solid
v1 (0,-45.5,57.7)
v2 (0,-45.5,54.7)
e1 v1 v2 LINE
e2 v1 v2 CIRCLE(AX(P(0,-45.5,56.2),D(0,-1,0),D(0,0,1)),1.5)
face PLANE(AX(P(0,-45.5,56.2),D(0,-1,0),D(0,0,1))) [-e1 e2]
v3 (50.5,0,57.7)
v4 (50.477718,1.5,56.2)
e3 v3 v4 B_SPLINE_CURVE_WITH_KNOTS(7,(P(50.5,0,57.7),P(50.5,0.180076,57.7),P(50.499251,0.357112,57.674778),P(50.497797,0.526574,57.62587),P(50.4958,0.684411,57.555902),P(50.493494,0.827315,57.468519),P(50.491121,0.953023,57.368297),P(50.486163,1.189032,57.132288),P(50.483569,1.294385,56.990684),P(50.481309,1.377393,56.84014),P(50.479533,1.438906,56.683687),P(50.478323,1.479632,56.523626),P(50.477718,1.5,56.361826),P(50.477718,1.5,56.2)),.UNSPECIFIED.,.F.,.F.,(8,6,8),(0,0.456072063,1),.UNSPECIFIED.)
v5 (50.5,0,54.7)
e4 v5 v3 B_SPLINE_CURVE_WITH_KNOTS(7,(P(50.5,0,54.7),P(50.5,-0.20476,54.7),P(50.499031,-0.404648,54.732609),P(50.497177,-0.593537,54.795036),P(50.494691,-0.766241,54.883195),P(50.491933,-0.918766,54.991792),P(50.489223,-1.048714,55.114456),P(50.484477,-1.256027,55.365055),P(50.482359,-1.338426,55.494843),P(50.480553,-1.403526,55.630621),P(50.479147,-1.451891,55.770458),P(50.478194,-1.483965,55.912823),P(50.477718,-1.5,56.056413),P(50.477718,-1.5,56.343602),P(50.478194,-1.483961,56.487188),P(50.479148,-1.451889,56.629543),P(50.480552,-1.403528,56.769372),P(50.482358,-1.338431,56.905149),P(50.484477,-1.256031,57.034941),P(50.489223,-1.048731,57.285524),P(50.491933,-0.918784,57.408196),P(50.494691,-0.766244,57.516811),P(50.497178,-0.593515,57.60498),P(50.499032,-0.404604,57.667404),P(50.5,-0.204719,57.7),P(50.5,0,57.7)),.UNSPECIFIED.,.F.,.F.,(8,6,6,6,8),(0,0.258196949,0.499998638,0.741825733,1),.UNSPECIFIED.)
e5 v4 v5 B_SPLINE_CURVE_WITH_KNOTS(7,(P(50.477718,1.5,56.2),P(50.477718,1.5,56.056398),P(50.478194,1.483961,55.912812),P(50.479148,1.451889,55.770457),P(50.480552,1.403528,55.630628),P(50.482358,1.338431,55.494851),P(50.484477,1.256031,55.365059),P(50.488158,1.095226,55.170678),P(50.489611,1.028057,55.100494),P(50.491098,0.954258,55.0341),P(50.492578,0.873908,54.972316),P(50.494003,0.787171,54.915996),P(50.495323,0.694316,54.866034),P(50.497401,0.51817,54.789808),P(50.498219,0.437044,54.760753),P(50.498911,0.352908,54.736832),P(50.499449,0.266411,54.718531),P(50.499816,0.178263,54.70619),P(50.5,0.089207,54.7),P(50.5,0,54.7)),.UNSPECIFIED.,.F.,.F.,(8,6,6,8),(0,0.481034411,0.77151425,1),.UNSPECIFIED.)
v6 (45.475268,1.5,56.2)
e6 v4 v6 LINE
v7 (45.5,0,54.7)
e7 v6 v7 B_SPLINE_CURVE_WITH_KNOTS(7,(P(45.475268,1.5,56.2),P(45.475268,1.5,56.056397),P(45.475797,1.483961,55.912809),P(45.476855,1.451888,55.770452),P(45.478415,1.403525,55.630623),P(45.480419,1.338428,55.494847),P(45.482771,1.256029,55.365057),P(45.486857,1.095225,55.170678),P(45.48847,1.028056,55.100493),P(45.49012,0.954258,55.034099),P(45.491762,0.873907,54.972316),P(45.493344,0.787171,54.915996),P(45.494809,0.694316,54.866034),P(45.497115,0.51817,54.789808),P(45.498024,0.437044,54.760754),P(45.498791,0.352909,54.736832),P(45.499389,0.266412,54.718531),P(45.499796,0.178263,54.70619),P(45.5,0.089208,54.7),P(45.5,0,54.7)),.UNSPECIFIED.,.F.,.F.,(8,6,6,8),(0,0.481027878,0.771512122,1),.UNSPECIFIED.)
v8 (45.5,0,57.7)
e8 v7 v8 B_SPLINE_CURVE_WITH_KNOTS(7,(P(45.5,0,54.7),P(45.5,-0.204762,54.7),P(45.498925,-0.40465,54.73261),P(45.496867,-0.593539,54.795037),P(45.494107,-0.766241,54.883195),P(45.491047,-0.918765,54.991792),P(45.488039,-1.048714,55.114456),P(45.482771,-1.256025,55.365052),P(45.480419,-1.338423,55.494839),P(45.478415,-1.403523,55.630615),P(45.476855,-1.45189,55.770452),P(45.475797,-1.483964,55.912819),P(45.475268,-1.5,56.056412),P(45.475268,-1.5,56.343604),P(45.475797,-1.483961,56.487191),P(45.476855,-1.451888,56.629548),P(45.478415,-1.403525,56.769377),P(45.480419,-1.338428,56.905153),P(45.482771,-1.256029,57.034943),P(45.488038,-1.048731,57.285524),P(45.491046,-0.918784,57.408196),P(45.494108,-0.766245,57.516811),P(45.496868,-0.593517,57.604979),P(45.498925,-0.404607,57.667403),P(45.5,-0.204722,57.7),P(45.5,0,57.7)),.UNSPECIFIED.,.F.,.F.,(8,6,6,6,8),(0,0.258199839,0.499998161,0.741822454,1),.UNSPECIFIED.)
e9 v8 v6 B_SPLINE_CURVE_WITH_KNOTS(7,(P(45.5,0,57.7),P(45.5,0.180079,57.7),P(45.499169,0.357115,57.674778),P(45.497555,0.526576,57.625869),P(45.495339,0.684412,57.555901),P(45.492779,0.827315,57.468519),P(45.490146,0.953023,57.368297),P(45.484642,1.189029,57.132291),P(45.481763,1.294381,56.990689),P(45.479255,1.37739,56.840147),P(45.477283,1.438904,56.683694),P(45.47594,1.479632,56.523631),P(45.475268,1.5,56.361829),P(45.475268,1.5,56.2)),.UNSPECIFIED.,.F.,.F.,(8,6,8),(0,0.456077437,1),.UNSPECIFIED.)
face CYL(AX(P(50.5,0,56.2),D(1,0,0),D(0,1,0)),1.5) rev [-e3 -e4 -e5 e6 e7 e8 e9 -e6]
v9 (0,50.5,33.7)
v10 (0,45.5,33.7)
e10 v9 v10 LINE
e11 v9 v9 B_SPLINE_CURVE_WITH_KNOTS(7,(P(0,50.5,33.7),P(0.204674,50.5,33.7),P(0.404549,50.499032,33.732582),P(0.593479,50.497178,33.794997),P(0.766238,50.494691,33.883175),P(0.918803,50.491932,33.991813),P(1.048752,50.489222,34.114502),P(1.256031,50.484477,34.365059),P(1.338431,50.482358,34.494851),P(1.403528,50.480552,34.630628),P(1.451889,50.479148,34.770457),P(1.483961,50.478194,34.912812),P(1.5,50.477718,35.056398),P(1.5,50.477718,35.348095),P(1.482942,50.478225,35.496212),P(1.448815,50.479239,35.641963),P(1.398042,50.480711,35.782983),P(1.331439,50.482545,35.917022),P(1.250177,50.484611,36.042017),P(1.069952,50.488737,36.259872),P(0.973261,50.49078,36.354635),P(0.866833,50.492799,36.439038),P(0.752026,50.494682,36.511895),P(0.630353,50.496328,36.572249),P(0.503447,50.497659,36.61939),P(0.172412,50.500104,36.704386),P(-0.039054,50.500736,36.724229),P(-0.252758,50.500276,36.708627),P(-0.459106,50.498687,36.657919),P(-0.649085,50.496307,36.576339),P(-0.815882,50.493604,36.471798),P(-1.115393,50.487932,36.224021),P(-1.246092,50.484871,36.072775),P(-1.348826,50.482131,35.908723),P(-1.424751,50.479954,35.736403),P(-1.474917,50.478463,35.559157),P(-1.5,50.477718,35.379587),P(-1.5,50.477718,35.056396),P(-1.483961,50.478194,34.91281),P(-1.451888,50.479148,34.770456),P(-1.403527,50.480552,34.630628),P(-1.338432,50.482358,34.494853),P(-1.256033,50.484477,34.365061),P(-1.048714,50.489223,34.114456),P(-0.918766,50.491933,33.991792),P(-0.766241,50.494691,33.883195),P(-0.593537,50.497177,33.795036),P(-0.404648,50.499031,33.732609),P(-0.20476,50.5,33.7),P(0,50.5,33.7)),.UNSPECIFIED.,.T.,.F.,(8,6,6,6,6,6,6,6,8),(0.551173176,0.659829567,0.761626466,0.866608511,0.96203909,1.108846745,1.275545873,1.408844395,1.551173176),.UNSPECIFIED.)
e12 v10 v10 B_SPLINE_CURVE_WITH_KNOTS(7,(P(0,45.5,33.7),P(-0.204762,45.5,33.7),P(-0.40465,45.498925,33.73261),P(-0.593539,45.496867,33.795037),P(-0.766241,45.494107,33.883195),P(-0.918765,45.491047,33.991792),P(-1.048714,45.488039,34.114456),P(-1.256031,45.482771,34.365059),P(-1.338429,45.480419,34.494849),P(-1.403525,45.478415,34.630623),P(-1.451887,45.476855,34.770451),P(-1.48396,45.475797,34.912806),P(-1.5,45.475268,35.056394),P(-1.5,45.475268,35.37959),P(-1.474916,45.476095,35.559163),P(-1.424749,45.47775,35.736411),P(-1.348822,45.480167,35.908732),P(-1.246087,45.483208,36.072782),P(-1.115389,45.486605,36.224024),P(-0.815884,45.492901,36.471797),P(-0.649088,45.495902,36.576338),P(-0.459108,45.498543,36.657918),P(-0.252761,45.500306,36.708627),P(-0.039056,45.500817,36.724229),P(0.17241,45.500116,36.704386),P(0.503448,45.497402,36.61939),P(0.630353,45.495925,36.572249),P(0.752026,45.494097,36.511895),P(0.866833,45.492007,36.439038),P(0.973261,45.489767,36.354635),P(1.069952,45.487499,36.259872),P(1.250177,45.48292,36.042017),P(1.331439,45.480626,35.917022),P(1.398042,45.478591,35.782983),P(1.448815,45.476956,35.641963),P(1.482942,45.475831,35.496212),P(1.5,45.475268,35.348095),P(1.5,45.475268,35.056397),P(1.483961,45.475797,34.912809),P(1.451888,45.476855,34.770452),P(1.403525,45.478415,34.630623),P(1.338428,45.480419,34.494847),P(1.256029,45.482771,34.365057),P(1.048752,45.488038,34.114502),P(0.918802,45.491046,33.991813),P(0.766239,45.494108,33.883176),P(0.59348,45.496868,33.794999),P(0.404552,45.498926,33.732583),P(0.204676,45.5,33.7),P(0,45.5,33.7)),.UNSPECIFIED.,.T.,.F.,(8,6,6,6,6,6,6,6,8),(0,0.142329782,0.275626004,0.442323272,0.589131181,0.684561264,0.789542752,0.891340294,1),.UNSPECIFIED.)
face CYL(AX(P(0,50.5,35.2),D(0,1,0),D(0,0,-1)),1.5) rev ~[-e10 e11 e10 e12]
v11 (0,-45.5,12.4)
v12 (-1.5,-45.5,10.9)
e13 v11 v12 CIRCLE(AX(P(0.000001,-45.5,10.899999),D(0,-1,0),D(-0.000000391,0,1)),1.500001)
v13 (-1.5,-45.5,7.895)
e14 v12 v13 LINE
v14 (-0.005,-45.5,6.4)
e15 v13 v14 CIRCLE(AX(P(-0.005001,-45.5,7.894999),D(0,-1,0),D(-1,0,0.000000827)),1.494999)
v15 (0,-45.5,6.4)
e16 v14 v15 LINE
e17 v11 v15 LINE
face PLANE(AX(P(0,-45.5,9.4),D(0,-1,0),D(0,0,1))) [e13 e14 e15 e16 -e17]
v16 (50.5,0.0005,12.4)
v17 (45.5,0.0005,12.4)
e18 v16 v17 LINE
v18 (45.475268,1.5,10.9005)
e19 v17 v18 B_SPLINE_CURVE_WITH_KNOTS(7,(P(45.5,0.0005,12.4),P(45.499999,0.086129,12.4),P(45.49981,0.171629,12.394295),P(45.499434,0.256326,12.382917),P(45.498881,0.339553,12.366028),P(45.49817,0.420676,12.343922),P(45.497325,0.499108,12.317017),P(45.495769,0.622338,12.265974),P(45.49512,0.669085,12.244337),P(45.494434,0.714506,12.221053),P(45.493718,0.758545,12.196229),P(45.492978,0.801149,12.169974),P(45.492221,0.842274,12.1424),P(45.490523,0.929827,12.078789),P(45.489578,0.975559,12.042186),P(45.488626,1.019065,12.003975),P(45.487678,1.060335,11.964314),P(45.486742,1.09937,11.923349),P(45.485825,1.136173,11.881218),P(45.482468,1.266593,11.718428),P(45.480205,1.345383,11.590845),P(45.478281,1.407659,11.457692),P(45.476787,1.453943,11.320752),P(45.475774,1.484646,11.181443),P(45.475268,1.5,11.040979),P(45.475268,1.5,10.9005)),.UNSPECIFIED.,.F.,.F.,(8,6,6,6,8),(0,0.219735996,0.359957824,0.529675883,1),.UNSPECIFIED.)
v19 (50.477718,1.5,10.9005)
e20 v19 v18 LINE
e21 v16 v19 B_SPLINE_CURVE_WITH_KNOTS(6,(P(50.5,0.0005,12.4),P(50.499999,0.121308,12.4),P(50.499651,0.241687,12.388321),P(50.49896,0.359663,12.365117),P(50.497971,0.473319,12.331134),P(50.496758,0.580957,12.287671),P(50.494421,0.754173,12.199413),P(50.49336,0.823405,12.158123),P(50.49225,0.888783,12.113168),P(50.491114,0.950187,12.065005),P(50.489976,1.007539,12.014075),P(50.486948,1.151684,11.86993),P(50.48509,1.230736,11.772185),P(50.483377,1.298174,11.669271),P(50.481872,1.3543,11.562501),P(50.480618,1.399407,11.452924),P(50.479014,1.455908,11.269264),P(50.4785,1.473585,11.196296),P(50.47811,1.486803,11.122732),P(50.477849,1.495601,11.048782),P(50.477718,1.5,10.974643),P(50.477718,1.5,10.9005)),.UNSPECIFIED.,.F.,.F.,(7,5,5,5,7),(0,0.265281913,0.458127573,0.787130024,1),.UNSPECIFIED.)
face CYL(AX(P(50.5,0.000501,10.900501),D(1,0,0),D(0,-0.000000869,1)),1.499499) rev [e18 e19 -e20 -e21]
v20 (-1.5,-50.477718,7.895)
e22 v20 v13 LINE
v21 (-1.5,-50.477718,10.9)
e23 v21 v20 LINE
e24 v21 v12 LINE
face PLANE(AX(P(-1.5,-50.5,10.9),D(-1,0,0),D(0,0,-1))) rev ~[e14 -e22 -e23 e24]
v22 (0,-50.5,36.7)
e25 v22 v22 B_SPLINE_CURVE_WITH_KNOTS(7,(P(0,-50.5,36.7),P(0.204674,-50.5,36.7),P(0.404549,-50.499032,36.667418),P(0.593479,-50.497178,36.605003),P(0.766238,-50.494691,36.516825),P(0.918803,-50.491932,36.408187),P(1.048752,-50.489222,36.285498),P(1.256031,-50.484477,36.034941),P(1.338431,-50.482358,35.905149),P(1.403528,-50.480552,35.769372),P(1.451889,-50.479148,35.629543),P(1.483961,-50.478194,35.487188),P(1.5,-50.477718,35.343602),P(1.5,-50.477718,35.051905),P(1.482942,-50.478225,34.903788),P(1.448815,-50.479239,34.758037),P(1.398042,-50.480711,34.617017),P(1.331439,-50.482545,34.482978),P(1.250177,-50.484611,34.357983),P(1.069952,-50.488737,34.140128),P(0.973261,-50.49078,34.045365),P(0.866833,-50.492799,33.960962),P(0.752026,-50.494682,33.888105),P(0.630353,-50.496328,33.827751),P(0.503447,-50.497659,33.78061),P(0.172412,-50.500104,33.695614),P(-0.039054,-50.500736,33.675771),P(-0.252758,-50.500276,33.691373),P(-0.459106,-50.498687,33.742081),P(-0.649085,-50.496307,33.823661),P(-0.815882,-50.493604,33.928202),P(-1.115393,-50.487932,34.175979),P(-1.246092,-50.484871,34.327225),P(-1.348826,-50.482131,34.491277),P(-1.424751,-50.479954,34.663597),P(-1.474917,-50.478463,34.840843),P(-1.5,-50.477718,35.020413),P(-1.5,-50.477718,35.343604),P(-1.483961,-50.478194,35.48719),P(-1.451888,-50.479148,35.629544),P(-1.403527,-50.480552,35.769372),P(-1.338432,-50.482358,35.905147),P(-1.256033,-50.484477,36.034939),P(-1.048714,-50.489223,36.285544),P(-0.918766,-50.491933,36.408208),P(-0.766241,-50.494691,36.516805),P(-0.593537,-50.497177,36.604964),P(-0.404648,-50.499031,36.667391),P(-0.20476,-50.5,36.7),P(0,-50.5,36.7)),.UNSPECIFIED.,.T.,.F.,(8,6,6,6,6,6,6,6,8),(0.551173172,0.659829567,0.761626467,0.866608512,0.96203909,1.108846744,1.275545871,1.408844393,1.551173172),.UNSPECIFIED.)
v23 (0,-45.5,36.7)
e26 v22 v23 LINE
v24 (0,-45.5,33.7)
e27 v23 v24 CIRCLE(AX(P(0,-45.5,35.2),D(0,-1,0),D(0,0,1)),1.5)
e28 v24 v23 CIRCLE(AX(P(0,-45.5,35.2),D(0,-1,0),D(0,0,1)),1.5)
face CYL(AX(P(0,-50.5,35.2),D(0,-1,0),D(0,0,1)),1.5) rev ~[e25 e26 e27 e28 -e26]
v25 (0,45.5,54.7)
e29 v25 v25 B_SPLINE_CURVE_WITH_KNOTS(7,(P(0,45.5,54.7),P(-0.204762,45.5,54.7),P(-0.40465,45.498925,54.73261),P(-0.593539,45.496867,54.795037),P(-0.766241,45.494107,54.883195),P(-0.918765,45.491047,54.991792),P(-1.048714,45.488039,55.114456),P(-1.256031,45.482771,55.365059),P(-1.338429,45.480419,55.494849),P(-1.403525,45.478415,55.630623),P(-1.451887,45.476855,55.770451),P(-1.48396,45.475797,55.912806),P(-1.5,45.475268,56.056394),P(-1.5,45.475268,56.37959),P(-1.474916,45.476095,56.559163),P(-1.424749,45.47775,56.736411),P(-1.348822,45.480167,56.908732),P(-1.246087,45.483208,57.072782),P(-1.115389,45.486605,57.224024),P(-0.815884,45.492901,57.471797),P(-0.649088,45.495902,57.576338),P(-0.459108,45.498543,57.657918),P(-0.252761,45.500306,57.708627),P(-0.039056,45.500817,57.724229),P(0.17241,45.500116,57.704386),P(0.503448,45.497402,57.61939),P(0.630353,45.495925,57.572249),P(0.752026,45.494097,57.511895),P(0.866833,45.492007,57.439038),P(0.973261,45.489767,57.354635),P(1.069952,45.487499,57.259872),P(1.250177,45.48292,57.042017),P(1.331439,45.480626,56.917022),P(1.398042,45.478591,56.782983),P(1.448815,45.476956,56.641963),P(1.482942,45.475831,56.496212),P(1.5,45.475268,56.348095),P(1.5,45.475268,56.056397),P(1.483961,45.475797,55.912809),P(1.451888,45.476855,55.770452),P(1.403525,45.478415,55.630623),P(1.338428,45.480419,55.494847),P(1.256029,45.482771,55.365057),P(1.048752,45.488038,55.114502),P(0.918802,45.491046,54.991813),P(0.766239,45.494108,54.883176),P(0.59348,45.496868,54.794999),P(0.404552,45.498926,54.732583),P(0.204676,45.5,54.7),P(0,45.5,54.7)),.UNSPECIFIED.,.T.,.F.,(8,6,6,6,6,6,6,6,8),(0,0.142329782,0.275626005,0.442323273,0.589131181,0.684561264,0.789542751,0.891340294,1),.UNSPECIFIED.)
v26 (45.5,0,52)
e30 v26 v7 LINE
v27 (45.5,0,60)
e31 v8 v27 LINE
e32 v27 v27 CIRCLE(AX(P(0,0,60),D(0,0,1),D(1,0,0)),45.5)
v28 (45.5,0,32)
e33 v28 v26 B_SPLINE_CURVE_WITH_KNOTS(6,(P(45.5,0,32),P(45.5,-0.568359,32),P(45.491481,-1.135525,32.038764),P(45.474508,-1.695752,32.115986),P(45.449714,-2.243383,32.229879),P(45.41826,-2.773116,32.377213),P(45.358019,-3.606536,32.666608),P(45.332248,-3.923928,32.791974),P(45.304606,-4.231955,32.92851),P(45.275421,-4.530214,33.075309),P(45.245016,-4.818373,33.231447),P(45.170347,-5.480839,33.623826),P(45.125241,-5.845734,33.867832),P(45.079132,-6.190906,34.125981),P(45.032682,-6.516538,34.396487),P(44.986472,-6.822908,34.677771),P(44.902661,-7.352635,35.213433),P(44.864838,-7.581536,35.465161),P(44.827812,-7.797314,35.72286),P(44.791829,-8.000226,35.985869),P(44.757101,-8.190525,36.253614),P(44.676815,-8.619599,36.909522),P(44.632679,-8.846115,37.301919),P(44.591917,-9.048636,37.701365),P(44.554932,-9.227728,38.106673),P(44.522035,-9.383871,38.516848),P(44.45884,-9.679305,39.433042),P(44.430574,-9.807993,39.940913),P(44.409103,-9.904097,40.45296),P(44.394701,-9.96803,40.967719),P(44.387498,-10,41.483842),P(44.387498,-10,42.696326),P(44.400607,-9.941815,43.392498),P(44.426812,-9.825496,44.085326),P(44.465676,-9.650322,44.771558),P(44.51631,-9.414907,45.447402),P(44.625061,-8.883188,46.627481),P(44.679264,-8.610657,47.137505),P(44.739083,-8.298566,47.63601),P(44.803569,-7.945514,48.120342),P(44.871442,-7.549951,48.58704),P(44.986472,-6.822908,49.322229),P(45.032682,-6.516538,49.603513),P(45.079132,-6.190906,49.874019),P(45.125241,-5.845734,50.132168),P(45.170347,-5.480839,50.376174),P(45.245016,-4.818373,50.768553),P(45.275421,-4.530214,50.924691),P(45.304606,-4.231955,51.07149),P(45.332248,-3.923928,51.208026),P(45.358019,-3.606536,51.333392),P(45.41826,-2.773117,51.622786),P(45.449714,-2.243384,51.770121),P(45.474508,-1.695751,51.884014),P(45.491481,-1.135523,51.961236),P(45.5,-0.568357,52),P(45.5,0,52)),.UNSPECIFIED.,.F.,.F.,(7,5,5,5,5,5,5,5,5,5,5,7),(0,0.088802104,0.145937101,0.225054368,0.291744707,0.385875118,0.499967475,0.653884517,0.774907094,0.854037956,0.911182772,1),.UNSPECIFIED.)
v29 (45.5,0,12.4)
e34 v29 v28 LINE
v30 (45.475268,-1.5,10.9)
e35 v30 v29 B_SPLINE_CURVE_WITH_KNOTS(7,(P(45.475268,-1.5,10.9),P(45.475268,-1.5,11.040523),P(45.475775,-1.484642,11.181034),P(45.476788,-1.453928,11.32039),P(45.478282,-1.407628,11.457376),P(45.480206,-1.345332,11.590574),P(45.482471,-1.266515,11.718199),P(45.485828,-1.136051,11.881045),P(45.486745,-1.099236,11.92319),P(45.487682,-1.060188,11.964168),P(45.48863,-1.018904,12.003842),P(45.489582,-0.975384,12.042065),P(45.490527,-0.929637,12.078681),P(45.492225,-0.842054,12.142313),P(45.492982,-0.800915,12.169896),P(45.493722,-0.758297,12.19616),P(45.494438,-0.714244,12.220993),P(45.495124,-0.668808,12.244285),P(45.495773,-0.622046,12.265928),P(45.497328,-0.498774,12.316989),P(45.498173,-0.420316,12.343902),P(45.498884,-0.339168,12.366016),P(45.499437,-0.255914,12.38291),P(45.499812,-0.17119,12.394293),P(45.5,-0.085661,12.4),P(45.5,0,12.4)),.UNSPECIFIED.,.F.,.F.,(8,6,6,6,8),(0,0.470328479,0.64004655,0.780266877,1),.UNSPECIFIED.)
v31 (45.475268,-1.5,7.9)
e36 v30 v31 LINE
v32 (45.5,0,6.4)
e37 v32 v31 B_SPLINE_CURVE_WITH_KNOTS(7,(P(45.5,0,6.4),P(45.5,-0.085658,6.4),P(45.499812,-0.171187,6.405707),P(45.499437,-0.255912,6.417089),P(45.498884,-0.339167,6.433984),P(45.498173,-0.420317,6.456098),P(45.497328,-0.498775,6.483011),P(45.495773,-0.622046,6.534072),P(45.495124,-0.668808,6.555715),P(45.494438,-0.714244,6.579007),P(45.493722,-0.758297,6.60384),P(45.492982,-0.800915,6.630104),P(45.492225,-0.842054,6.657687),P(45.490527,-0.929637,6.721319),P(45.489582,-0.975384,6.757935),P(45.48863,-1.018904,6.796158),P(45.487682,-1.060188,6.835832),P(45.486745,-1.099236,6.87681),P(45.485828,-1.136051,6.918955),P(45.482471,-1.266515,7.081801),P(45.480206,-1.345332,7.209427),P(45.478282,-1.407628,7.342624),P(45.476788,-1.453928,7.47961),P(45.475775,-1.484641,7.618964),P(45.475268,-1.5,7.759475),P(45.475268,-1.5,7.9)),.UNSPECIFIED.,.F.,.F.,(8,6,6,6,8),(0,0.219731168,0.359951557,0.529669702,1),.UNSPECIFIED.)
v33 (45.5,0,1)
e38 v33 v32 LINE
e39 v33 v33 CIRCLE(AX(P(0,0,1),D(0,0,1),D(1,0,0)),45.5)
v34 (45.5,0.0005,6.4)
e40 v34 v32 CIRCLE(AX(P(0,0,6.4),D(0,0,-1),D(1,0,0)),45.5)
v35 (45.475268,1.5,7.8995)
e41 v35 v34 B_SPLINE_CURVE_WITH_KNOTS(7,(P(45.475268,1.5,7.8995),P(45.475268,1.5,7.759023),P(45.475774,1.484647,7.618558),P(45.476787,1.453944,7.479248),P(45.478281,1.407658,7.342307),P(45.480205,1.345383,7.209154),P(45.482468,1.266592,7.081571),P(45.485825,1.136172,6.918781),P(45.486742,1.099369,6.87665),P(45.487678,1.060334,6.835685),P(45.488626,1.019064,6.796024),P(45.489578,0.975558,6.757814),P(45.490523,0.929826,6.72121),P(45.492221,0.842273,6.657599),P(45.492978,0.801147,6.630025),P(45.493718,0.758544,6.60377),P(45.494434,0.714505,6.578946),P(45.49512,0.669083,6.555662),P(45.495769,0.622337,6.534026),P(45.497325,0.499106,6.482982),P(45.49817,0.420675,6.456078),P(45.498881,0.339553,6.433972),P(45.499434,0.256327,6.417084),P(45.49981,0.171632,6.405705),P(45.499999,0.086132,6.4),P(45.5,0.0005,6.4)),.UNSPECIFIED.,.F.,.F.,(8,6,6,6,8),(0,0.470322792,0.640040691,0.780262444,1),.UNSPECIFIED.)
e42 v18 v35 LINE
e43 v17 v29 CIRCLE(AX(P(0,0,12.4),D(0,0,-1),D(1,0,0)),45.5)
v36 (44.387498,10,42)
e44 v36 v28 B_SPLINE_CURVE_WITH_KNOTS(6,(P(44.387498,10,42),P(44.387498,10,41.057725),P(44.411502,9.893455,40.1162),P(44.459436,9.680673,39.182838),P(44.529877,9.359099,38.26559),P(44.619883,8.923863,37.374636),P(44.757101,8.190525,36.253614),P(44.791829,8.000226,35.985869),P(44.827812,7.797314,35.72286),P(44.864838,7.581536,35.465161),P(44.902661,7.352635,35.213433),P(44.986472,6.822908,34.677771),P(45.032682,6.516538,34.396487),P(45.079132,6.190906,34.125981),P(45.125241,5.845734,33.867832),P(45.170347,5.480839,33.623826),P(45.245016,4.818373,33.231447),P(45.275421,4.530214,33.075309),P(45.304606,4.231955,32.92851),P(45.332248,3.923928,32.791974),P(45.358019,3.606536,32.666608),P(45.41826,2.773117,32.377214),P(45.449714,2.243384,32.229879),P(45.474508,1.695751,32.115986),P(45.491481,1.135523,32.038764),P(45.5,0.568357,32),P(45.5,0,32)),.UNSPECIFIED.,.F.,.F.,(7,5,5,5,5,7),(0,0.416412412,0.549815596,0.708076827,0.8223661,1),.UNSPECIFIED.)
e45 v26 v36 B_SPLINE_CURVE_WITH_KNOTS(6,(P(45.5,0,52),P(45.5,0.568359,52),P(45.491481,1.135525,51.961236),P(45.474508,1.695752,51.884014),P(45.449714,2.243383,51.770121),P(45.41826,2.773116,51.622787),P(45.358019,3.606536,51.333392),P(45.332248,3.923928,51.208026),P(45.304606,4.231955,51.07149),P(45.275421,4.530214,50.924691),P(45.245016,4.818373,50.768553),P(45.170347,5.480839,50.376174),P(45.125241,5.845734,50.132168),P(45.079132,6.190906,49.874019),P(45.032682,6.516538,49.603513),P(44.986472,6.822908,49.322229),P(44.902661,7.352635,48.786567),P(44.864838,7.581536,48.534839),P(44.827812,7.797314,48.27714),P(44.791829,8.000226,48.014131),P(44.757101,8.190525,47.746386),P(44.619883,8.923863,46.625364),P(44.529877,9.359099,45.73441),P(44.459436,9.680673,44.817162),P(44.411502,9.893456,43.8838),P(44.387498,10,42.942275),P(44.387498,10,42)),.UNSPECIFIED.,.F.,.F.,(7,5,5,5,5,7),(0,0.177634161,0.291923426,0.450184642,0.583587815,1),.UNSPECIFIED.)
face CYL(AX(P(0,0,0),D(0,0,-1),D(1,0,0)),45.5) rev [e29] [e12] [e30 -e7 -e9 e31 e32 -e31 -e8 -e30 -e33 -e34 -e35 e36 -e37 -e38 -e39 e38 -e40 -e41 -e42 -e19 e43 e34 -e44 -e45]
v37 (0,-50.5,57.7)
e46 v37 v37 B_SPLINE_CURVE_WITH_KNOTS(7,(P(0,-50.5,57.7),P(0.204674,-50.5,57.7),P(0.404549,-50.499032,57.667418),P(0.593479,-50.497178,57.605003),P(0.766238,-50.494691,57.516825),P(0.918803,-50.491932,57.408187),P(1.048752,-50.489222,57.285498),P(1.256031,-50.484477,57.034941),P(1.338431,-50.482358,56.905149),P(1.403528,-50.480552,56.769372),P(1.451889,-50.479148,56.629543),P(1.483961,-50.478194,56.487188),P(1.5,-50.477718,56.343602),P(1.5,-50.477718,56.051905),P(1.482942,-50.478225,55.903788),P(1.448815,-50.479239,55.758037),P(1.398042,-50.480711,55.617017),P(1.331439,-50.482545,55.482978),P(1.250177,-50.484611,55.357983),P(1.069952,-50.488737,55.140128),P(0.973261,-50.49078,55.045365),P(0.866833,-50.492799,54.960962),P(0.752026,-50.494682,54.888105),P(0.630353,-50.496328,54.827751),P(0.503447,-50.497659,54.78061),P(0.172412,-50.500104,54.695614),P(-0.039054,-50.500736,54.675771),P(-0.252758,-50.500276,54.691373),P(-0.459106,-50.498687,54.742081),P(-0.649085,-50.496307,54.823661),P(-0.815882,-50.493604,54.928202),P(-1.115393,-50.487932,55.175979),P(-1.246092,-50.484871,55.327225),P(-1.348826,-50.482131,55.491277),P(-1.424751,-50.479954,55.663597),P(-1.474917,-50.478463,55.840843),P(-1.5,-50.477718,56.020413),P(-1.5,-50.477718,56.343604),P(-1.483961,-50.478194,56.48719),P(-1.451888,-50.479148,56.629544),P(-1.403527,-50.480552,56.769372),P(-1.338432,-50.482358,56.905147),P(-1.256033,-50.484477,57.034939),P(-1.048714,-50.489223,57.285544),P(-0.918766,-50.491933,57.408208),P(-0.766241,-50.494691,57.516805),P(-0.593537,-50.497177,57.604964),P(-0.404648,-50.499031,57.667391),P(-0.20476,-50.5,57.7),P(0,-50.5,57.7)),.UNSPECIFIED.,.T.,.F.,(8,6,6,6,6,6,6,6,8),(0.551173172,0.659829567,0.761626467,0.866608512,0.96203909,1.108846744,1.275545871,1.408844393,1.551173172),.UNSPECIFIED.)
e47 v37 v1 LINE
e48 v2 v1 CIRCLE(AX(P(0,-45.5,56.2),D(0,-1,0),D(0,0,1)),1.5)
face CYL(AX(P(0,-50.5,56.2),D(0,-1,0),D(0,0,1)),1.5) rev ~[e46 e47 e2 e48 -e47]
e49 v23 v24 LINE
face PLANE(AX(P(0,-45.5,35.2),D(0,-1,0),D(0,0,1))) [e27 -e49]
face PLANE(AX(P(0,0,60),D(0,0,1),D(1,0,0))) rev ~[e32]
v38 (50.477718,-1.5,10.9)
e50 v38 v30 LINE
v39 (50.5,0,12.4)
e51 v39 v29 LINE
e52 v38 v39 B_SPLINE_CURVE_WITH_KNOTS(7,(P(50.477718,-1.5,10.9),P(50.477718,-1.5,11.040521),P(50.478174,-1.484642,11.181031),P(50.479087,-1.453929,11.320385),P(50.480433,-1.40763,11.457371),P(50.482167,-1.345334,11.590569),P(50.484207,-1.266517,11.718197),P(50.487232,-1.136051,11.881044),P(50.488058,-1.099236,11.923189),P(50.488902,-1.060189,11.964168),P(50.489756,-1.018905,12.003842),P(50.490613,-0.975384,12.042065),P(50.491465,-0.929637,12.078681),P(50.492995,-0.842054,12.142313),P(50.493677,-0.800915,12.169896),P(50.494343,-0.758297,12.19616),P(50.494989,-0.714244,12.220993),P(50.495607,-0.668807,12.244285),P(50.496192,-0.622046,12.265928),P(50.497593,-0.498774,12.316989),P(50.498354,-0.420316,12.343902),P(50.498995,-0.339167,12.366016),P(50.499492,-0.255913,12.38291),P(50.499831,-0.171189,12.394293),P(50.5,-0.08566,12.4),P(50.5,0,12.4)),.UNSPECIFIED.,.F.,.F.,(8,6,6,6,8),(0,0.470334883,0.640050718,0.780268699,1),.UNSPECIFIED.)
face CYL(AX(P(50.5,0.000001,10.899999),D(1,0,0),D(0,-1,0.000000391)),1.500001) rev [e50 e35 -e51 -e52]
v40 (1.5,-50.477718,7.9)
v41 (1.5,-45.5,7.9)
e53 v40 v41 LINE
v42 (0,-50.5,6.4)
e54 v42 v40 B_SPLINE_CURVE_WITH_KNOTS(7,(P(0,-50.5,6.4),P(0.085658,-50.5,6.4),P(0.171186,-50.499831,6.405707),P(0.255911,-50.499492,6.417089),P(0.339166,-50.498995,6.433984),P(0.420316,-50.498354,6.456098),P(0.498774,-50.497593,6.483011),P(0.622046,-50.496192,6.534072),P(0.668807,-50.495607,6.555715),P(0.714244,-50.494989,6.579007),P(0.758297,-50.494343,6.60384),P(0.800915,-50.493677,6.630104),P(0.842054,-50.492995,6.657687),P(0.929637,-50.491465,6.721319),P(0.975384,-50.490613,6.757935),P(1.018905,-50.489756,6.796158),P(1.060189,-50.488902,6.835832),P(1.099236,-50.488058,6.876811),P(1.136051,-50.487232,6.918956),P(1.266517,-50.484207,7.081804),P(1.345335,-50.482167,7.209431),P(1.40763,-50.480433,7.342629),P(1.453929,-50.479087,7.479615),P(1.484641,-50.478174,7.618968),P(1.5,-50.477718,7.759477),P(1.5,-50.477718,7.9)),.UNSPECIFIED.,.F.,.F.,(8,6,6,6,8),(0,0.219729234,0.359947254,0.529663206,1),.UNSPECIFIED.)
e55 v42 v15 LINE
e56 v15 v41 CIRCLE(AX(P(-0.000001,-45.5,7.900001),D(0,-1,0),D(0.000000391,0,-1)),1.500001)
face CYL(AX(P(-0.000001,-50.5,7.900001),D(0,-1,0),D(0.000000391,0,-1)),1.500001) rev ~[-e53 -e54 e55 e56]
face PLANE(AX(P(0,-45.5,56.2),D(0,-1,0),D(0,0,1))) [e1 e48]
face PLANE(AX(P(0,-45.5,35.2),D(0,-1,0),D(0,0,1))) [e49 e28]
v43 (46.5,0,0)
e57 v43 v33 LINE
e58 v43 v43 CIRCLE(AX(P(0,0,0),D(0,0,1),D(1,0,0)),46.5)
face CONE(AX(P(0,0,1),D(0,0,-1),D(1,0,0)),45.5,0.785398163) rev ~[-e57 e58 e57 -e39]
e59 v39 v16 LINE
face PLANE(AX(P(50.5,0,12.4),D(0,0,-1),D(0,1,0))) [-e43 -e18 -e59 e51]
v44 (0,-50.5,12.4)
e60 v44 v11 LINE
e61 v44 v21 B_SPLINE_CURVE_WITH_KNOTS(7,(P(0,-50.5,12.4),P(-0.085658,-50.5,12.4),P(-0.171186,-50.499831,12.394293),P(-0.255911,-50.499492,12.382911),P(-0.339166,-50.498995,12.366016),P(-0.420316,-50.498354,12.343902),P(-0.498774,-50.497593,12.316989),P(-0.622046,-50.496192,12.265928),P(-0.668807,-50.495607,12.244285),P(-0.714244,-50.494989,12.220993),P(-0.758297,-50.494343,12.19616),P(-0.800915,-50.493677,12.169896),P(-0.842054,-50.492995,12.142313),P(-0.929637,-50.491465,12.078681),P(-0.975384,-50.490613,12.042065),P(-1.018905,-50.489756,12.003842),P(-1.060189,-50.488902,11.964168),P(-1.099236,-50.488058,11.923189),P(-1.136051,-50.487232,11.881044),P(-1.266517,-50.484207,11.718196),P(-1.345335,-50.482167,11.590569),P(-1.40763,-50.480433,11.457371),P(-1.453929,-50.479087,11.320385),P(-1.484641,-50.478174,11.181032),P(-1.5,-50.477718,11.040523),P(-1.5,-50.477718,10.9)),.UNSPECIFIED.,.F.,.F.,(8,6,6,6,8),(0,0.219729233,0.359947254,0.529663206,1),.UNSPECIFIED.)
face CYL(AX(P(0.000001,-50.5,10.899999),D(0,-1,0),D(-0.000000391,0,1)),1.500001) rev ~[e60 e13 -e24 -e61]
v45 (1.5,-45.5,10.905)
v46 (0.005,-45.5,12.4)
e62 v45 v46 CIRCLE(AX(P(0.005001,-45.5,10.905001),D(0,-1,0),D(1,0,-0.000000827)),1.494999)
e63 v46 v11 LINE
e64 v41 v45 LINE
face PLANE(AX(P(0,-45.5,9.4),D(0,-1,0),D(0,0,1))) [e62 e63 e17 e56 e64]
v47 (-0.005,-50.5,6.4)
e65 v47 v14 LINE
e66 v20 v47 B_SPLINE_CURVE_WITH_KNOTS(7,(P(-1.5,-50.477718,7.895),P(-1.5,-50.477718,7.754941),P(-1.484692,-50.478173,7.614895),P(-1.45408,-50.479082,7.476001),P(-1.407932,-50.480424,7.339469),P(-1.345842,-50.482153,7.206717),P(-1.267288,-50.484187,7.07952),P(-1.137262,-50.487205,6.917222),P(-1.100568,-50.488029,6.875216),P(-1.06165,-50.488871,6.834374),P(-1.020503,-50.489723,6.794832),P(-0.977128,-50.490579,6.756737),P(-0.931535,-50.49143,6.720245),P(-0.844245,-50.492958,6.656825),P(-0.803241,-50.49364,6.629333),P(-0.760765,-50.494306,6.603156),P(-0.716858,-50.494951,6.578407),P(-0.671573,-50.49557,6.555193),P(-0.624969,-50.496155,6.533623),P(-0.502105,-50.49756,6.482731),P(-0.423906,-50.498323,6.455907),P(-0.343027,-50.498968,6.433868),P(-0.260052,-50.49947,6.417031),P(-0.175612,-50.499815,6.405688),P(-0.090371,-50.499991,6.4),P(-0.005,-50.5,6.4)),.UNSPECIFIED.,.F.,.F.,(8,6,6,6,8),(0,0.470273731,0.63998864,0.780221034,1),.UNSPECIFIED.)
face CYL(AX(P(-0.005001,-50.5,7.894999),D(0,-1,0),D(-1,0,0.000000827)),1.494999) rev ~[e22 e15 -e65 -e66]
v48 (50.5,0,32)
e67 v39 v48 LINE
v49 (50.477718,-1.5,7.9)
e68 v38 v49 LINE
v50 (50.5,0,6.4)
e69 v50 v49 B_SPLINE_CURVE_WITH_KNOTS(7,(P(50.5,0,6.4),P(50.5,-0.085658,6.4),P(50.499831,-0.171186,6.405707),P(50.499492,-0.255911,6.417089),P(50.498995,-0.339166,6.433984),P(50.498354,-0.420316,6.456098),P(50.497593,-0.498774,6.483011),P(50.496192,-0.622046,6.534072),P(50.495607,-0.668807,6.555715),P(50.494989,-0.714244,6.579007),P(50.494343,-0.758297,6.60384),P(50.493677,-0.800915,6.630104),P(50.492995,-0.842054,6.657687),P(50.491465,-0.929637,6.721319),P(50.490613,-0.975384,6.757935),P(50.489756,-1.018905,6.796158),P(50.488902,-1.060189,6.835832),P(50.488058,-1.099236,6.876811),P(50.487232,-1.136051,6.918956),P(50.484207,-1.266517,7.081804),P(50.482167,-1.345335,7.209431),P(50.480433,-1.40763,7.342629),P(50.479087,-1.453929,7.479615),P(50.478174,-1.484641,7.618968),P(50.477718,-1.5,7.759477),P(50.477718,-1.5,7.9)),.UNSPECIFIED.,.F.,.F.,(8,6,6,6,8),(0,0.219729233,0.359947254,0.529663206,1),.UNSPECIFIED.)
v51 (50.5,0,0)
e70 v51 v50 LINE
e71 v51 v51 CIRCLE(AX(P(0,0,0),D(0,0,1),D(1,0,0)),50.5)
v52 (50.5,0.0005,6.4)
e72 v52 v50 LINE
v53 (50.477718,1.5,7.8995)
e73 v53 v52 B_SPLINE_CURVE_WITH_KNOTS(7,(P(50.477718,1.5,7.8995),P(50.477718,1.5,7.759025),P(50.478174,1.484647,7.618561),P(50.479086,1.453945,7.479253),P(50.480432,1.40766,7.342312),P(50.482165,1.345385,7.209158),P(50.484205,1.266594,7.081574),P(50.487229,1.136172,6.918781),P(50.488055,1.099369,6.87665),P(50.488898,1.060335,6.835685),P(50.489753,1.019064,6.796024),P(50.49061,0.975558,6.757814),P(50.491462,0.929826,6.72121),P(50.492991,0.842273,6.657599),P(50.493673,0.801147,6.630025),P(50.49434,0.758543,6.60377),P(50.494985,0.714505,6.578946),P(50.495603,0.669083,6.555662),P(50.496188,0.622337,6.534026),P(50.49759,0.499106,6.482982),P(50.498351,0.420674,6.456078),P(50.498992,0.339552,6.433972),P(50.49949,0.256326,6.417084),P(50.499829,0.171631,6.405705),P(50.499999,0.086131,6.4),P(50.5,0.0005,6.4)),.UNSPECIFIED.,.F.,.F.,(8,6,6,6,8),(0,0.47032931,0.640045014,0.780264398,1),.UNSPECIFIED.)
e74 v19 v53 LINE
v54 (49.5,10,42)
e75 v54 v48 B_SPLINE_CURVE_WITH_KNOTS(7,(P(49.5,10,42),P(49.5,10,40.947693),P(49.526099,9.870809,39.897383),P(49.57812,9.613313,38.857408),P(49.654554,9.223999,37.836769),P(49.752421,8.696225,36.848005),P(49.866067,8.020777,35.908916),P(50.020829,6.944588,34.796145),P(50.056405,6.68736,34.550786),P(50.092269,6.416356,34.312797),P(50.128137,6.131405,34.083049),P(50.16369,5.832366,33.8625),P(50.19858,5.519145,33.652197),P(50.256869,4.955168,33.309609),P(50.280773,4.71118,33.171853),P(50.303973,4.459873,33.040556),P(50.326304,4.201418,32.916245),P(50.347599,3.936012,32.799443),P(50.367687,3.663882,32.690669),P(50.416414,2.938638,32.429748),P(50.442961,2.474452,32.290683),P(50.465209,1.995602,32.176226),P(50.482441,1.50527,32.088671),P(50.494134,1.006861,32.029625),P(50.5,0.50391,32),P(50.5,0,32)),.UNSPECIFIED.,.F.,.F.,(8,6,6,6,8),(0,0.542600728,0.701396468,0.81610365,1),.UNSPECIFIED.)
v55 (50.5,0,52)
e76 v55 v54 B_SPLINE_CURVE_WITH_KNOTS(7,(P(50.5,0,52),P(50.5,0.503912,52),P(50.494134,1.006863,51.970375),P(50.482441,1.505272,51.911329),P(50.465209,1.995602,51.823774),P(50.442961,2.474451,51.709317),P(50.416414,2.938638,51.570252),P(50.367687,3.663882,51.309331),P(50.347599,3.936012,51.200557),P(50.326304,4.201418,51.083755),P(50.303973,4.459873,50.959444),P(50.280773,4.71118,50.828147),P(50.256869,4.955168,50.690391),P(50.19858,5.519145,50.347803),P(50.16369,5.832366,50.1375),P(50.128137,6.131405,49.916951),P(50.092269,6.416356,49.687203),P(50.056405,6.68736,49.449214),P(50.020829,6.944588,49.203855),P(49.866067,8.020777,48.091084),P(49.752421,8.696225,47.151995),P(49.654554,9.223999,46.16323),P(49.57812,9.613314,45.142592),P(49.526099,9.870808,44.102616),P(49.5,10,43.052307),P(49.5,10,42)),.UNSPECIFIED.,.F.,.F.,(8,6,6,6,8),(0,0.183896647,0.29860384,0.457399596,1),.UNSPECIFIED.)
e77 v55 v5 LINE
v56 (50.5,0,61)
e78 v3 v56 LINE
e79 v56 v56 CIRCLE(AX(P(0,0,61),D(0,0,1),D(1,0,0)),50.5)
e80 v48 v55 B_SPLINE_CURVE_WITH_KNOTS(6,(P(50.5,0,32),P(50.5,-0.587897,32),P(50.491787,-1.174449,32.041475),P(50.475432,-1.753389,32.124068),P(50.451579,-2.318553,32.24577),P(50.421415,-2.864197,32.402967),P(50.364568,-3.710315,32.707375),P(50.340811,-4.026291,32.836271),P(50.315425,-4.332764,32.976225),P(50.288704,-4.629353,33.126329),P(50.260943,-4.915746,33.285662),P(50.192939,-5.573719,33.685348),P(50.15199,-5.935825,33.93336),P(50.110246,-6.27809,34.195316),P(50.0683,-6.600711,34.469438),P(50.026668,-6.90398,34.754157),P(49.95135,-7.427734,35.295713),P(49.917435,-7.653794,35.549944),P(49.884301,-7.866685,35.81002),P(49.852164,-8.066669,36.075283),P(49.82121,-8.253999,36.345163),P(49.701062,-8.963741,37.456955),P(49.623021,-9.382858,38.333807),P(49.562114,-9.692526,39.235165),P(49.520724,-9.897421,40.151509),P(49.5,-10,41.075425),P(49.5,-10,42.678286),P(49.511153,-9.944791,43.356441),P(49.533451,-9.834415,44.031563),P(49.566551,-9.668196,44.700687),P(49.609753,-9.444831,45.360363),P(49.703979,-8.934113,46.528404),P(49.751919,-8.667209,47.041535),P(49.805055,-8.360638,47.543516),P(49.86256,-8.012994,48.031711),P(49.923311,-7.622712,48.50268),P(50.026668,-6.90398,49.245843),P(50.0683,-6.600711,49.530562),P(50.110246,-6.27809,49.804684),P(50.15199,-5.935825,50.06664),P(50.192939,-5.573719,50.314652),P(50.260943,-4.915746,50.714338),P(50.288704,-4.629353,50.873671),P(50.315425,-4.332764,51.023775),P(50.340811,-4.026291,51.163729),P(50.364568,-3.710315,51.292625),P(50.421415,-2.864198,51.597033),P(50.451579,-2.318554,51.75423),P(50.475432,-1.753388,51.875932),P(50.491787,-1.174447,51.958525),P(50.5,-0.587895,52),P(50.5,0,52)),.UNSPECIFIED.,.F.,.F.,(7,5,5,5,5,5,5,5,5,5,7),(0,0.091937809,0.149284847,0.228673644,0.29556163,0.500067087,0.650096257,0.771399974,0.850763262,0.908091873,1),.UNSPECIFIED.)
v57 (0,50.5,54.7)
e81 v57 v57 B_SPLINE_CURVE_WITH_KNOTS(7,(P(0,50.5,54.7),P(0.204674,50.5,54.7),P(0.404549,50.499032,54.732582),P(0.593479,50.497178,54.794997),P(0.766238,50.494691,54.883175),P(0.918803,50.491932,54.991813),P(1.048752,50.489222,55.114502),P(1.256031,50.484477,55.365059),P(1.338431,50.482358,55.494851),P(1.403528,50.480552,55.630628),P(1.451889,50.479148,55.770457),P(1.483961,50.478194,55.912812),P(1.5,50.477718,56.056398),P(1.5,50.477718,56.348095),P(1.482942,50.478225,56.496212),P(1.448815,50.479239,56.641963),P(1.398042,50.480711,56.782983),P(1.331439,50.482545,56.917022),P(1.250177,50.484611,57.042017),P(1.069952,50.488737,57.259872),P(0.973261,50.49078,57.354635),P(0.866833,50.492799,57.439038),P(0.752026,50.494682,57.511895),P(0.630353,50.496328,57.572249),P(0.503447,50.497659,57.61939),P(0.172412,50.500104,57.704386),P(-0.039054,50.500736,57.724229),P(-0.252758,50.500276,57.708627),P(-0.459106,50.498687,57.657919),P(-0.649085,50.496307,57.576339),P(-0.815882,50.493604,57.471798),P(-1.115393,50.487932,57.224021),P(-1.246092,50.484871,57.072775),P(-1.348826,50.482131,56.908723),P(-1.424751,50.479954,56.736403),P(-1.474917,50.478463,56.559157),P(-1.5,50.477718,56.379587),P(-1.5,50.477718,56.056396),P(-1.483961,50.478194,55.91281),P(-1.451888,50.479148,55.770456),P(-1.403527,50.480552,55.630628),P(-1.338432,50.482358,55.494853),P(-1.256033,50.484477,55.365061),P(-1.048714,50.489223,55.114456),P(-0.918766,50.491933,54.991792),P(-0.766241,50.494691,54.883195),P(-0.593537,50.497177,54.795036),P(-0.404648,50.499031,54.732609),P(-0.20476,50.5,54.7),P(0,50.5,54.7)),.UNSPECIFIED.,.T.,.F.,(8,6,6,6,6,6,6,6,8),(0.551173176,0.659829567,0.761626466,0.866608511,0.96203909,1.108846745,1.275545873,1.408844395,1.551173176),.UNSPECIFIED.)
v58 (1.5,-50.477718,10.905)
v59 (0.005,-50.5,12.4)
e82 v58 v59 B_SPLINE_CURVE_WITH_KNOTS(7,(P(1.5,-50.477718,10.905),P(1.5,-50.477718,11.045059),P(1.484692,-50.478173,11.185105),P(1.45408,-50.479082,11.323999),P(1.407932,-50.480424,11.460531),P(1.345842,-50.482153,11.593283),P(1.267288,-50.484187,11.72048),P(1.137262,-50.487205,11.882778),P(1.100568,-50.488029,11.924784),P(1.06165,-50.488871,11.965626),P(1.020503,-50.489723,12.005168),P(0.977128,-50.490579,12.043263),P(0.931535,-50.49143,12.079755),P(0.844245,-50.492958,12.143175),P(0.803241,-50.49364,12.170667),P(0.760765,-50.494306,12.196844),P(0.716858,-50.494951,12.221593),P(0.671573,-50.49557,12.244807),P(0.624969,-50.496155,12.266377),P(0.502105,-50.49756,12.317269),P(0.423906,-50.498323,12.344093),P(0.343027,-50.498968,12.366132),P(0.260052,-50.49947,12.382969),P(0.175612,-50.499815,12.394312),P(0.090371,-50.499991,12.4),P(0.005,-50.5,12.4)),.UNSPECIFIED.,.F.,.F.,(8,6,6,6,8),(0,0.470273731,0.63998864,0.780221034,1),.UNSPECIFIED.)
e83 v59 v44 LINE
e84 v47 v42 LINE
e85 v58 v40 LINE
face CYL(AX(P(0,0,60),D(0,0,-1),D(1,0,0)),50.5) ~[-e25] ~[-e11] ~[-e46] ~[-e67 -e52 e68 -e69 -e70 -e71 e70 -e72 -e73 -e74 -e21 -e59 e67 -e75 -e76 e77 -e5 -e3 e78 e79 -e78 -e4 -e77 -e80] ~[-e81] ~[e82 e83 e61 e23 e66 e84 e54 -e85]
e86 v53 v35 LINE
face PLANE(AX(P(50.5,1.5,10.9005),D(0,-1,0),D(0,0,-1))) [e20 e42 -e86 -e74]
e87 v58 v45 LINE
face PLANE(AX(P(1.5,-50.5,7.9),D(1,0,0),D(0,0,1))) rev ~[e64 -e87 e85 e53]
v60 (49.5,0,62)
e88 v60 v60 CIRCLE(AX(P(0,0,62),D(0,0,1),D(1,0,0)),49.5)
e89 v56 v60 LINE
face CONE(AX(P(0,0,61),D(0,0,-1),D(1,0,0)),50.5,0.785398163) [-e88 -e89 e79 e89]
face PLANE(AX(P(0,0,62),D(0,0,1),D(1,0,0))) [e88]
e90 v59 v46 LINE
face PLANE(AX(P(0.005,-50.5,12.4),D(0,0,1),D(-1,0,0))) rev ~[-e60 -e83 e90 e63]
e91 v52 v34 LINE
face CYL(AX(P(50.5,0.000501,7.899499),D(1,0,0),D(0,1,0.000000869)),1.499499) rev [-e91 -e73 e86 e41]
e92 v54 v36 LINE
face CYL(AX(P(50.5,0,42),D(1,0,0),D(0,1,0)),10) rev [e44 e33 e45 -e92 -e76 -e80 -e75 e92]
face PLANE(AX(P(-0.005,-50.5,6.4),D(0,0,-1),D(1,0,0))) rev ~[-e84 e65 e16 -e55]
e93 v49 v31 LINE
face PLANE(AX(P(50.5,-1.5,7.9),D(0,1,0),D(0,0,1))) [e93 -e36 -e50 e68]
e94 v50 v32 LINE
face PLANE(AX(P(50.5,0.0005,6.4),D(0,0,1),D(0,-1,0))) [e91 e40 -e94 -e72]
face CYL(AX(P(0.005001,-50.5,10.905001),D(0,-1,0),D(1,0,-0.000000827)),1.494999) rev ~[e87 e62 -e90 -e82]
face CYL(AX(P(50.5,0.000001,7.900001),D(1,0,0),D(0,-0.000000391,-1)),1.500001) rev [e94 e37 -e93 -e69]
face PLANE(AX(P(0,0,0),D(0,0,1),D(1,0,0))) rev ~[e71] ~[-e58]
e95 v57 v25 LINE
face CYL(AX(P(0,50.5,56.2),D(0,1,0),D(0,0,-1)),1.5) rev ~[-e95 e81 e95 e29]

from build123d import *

# Parameters (mm, degrees)
SKETCH_R        = 50.5
SKETCH_R_2      = 45.5
PAD_DEPTH       = 60
SKETCH002_R     = 1.5
SKETCH002_R_2   = 10
POCKET_DEPTH    = 8
SKETCH003_R     = 1.5
POCKET001_DEPTH = 8
SKETCH004_R     = 1.5
POCKET002_DEPTH = 5
SKETCH005_R     = 50.5
PAD001_DEPTH    = 2
CHAMFER_SIZE    = 1
CHAMFER001_SIZE = 1


with BuildPart() as part:
    # Sketch → Pad (new body)
    with BuildSketch(Plane.XY):
        Circle(SKETCH_R)
        Circle(SKETCH_R_2, mode=Mode.SUBTRACT)
    extrude(amount=PAD_DEPTH)

    # Sketch002 (on DatumPlane) → Pocket (cut)
    with BuildSketch(Plane(origin=(50.5, 0, 60), x_dir=(0, 1, 0), z_dir=(-1, 0, 0))):
        with Locations((0, 3.8)):
            Circle(SKETCH002_R)
        with Locations((0, 18)):
            Circle(SKETCH002_R_2)
        with BuildLine():
            Line((0, 47.6), (0.0005, 47.6))
            ThreePointArc((0.0005, 47.6), (1.060807, 48.039193), (1.5, 49.0995))
            Line((1.5, 49.0995), (1.5, 52.1005))
            ThreePointArc((1.5, 52.1005), (1.060807, 53.160807), (0.0005, 53.6))
            Line((0.0005, 53.6), (0, 53.6))
            ThreePointArc((0, 53.6), (-1.06066, 53.16066), (-1.5, 52.1))
            Line((-1.5, 52.1), (-1.5, 49.1))
            ThreePointArc((-1.5, 49.1), (-1.06066, 48.03934), (0, 47.6))
        make_face()
    extrude(amount=POCKET_DEPTH, mode=Mode.SUBTRACT)

    # Sketch003 (on DatumPlane) → Pocket001 (cut)
    with BuildSketch(Plane(origin=(0, 50.5, 60), x_dir=(0, 0, -1), z_dir=(0, 1, 0))):
        with Locations((3.8, 0)):
            Circle(SKETCH003_R)
        with Locations((24.8, 0)):
            Circle(SKETCH003_R)
    extrude(amount=-POCKET001_DEPTH, mode=Mode.SUBTRACT)

    # Sketch004 (on DatumPlane) → Pocket002 (cut)
    with BuildSketch(Plane(origin=(0, -50.5, 60), x_dir=(0, 0, 1), z_dir=(0, -1, 0))):
        with Locations((-3.8, 0)):
            Circle(SKETCH004_R)
        with Locations((-24.8, 0)):
            Circle(SKETCH004_R)
        with BuildLine():
            Line((-52.1, -1.5), (-49.095, -1.5))
            ThreePointArc((-49.095, -1.5), (-48.037875, -1.062125), (-47.6, -0.005))
            Line((-47.6, -0.005), (-47.6, 0))
            ThreePointArc((-47.6, 0), (-48.03934, 1.06066), (-49.1, 1.5))
            Line((-49.1, 1.5), (-52.105, 1.5))
            ThreePointArc((-52.105, 1.5), (-53.162125, 1.062125), (-53.6, 0.005))
            Line((-53.6, 0.005), (-53.6, 0))
            ThreePointArc((-53.6, 0), (-53.16066, -1.06066), (-52.1, -1.5))
        make_face()
    extrude(amount=-POCKET002_DEPTH, mode=Mode.SUBTRACT)

    # Sketch005 (on Face8 of Pocket002) → Pad001 (join)
    with BuildSketch(Plane.XY.offset(60)):
        Circle(SKETCH005_R)
    extrude(amount=PAD001_DEPTH)

    # Chamfer
    chamfer_edges = [part.edges().sort_by_distance(p)[0] for p in [
        (-50.5, 0, 62),
    ]]
    chamfer(chamfer_edges, length=CHAMFER_SIZE)

    # Chamfer001
    chamfer001_edges = [part.edges().sort_by_distance(p)[0] for p in [
        (-45.5, 0, 0),
    ]]
    chamfer(chamfer001_edges, length=CHAMFER001_SIZE)


solid = part.part
